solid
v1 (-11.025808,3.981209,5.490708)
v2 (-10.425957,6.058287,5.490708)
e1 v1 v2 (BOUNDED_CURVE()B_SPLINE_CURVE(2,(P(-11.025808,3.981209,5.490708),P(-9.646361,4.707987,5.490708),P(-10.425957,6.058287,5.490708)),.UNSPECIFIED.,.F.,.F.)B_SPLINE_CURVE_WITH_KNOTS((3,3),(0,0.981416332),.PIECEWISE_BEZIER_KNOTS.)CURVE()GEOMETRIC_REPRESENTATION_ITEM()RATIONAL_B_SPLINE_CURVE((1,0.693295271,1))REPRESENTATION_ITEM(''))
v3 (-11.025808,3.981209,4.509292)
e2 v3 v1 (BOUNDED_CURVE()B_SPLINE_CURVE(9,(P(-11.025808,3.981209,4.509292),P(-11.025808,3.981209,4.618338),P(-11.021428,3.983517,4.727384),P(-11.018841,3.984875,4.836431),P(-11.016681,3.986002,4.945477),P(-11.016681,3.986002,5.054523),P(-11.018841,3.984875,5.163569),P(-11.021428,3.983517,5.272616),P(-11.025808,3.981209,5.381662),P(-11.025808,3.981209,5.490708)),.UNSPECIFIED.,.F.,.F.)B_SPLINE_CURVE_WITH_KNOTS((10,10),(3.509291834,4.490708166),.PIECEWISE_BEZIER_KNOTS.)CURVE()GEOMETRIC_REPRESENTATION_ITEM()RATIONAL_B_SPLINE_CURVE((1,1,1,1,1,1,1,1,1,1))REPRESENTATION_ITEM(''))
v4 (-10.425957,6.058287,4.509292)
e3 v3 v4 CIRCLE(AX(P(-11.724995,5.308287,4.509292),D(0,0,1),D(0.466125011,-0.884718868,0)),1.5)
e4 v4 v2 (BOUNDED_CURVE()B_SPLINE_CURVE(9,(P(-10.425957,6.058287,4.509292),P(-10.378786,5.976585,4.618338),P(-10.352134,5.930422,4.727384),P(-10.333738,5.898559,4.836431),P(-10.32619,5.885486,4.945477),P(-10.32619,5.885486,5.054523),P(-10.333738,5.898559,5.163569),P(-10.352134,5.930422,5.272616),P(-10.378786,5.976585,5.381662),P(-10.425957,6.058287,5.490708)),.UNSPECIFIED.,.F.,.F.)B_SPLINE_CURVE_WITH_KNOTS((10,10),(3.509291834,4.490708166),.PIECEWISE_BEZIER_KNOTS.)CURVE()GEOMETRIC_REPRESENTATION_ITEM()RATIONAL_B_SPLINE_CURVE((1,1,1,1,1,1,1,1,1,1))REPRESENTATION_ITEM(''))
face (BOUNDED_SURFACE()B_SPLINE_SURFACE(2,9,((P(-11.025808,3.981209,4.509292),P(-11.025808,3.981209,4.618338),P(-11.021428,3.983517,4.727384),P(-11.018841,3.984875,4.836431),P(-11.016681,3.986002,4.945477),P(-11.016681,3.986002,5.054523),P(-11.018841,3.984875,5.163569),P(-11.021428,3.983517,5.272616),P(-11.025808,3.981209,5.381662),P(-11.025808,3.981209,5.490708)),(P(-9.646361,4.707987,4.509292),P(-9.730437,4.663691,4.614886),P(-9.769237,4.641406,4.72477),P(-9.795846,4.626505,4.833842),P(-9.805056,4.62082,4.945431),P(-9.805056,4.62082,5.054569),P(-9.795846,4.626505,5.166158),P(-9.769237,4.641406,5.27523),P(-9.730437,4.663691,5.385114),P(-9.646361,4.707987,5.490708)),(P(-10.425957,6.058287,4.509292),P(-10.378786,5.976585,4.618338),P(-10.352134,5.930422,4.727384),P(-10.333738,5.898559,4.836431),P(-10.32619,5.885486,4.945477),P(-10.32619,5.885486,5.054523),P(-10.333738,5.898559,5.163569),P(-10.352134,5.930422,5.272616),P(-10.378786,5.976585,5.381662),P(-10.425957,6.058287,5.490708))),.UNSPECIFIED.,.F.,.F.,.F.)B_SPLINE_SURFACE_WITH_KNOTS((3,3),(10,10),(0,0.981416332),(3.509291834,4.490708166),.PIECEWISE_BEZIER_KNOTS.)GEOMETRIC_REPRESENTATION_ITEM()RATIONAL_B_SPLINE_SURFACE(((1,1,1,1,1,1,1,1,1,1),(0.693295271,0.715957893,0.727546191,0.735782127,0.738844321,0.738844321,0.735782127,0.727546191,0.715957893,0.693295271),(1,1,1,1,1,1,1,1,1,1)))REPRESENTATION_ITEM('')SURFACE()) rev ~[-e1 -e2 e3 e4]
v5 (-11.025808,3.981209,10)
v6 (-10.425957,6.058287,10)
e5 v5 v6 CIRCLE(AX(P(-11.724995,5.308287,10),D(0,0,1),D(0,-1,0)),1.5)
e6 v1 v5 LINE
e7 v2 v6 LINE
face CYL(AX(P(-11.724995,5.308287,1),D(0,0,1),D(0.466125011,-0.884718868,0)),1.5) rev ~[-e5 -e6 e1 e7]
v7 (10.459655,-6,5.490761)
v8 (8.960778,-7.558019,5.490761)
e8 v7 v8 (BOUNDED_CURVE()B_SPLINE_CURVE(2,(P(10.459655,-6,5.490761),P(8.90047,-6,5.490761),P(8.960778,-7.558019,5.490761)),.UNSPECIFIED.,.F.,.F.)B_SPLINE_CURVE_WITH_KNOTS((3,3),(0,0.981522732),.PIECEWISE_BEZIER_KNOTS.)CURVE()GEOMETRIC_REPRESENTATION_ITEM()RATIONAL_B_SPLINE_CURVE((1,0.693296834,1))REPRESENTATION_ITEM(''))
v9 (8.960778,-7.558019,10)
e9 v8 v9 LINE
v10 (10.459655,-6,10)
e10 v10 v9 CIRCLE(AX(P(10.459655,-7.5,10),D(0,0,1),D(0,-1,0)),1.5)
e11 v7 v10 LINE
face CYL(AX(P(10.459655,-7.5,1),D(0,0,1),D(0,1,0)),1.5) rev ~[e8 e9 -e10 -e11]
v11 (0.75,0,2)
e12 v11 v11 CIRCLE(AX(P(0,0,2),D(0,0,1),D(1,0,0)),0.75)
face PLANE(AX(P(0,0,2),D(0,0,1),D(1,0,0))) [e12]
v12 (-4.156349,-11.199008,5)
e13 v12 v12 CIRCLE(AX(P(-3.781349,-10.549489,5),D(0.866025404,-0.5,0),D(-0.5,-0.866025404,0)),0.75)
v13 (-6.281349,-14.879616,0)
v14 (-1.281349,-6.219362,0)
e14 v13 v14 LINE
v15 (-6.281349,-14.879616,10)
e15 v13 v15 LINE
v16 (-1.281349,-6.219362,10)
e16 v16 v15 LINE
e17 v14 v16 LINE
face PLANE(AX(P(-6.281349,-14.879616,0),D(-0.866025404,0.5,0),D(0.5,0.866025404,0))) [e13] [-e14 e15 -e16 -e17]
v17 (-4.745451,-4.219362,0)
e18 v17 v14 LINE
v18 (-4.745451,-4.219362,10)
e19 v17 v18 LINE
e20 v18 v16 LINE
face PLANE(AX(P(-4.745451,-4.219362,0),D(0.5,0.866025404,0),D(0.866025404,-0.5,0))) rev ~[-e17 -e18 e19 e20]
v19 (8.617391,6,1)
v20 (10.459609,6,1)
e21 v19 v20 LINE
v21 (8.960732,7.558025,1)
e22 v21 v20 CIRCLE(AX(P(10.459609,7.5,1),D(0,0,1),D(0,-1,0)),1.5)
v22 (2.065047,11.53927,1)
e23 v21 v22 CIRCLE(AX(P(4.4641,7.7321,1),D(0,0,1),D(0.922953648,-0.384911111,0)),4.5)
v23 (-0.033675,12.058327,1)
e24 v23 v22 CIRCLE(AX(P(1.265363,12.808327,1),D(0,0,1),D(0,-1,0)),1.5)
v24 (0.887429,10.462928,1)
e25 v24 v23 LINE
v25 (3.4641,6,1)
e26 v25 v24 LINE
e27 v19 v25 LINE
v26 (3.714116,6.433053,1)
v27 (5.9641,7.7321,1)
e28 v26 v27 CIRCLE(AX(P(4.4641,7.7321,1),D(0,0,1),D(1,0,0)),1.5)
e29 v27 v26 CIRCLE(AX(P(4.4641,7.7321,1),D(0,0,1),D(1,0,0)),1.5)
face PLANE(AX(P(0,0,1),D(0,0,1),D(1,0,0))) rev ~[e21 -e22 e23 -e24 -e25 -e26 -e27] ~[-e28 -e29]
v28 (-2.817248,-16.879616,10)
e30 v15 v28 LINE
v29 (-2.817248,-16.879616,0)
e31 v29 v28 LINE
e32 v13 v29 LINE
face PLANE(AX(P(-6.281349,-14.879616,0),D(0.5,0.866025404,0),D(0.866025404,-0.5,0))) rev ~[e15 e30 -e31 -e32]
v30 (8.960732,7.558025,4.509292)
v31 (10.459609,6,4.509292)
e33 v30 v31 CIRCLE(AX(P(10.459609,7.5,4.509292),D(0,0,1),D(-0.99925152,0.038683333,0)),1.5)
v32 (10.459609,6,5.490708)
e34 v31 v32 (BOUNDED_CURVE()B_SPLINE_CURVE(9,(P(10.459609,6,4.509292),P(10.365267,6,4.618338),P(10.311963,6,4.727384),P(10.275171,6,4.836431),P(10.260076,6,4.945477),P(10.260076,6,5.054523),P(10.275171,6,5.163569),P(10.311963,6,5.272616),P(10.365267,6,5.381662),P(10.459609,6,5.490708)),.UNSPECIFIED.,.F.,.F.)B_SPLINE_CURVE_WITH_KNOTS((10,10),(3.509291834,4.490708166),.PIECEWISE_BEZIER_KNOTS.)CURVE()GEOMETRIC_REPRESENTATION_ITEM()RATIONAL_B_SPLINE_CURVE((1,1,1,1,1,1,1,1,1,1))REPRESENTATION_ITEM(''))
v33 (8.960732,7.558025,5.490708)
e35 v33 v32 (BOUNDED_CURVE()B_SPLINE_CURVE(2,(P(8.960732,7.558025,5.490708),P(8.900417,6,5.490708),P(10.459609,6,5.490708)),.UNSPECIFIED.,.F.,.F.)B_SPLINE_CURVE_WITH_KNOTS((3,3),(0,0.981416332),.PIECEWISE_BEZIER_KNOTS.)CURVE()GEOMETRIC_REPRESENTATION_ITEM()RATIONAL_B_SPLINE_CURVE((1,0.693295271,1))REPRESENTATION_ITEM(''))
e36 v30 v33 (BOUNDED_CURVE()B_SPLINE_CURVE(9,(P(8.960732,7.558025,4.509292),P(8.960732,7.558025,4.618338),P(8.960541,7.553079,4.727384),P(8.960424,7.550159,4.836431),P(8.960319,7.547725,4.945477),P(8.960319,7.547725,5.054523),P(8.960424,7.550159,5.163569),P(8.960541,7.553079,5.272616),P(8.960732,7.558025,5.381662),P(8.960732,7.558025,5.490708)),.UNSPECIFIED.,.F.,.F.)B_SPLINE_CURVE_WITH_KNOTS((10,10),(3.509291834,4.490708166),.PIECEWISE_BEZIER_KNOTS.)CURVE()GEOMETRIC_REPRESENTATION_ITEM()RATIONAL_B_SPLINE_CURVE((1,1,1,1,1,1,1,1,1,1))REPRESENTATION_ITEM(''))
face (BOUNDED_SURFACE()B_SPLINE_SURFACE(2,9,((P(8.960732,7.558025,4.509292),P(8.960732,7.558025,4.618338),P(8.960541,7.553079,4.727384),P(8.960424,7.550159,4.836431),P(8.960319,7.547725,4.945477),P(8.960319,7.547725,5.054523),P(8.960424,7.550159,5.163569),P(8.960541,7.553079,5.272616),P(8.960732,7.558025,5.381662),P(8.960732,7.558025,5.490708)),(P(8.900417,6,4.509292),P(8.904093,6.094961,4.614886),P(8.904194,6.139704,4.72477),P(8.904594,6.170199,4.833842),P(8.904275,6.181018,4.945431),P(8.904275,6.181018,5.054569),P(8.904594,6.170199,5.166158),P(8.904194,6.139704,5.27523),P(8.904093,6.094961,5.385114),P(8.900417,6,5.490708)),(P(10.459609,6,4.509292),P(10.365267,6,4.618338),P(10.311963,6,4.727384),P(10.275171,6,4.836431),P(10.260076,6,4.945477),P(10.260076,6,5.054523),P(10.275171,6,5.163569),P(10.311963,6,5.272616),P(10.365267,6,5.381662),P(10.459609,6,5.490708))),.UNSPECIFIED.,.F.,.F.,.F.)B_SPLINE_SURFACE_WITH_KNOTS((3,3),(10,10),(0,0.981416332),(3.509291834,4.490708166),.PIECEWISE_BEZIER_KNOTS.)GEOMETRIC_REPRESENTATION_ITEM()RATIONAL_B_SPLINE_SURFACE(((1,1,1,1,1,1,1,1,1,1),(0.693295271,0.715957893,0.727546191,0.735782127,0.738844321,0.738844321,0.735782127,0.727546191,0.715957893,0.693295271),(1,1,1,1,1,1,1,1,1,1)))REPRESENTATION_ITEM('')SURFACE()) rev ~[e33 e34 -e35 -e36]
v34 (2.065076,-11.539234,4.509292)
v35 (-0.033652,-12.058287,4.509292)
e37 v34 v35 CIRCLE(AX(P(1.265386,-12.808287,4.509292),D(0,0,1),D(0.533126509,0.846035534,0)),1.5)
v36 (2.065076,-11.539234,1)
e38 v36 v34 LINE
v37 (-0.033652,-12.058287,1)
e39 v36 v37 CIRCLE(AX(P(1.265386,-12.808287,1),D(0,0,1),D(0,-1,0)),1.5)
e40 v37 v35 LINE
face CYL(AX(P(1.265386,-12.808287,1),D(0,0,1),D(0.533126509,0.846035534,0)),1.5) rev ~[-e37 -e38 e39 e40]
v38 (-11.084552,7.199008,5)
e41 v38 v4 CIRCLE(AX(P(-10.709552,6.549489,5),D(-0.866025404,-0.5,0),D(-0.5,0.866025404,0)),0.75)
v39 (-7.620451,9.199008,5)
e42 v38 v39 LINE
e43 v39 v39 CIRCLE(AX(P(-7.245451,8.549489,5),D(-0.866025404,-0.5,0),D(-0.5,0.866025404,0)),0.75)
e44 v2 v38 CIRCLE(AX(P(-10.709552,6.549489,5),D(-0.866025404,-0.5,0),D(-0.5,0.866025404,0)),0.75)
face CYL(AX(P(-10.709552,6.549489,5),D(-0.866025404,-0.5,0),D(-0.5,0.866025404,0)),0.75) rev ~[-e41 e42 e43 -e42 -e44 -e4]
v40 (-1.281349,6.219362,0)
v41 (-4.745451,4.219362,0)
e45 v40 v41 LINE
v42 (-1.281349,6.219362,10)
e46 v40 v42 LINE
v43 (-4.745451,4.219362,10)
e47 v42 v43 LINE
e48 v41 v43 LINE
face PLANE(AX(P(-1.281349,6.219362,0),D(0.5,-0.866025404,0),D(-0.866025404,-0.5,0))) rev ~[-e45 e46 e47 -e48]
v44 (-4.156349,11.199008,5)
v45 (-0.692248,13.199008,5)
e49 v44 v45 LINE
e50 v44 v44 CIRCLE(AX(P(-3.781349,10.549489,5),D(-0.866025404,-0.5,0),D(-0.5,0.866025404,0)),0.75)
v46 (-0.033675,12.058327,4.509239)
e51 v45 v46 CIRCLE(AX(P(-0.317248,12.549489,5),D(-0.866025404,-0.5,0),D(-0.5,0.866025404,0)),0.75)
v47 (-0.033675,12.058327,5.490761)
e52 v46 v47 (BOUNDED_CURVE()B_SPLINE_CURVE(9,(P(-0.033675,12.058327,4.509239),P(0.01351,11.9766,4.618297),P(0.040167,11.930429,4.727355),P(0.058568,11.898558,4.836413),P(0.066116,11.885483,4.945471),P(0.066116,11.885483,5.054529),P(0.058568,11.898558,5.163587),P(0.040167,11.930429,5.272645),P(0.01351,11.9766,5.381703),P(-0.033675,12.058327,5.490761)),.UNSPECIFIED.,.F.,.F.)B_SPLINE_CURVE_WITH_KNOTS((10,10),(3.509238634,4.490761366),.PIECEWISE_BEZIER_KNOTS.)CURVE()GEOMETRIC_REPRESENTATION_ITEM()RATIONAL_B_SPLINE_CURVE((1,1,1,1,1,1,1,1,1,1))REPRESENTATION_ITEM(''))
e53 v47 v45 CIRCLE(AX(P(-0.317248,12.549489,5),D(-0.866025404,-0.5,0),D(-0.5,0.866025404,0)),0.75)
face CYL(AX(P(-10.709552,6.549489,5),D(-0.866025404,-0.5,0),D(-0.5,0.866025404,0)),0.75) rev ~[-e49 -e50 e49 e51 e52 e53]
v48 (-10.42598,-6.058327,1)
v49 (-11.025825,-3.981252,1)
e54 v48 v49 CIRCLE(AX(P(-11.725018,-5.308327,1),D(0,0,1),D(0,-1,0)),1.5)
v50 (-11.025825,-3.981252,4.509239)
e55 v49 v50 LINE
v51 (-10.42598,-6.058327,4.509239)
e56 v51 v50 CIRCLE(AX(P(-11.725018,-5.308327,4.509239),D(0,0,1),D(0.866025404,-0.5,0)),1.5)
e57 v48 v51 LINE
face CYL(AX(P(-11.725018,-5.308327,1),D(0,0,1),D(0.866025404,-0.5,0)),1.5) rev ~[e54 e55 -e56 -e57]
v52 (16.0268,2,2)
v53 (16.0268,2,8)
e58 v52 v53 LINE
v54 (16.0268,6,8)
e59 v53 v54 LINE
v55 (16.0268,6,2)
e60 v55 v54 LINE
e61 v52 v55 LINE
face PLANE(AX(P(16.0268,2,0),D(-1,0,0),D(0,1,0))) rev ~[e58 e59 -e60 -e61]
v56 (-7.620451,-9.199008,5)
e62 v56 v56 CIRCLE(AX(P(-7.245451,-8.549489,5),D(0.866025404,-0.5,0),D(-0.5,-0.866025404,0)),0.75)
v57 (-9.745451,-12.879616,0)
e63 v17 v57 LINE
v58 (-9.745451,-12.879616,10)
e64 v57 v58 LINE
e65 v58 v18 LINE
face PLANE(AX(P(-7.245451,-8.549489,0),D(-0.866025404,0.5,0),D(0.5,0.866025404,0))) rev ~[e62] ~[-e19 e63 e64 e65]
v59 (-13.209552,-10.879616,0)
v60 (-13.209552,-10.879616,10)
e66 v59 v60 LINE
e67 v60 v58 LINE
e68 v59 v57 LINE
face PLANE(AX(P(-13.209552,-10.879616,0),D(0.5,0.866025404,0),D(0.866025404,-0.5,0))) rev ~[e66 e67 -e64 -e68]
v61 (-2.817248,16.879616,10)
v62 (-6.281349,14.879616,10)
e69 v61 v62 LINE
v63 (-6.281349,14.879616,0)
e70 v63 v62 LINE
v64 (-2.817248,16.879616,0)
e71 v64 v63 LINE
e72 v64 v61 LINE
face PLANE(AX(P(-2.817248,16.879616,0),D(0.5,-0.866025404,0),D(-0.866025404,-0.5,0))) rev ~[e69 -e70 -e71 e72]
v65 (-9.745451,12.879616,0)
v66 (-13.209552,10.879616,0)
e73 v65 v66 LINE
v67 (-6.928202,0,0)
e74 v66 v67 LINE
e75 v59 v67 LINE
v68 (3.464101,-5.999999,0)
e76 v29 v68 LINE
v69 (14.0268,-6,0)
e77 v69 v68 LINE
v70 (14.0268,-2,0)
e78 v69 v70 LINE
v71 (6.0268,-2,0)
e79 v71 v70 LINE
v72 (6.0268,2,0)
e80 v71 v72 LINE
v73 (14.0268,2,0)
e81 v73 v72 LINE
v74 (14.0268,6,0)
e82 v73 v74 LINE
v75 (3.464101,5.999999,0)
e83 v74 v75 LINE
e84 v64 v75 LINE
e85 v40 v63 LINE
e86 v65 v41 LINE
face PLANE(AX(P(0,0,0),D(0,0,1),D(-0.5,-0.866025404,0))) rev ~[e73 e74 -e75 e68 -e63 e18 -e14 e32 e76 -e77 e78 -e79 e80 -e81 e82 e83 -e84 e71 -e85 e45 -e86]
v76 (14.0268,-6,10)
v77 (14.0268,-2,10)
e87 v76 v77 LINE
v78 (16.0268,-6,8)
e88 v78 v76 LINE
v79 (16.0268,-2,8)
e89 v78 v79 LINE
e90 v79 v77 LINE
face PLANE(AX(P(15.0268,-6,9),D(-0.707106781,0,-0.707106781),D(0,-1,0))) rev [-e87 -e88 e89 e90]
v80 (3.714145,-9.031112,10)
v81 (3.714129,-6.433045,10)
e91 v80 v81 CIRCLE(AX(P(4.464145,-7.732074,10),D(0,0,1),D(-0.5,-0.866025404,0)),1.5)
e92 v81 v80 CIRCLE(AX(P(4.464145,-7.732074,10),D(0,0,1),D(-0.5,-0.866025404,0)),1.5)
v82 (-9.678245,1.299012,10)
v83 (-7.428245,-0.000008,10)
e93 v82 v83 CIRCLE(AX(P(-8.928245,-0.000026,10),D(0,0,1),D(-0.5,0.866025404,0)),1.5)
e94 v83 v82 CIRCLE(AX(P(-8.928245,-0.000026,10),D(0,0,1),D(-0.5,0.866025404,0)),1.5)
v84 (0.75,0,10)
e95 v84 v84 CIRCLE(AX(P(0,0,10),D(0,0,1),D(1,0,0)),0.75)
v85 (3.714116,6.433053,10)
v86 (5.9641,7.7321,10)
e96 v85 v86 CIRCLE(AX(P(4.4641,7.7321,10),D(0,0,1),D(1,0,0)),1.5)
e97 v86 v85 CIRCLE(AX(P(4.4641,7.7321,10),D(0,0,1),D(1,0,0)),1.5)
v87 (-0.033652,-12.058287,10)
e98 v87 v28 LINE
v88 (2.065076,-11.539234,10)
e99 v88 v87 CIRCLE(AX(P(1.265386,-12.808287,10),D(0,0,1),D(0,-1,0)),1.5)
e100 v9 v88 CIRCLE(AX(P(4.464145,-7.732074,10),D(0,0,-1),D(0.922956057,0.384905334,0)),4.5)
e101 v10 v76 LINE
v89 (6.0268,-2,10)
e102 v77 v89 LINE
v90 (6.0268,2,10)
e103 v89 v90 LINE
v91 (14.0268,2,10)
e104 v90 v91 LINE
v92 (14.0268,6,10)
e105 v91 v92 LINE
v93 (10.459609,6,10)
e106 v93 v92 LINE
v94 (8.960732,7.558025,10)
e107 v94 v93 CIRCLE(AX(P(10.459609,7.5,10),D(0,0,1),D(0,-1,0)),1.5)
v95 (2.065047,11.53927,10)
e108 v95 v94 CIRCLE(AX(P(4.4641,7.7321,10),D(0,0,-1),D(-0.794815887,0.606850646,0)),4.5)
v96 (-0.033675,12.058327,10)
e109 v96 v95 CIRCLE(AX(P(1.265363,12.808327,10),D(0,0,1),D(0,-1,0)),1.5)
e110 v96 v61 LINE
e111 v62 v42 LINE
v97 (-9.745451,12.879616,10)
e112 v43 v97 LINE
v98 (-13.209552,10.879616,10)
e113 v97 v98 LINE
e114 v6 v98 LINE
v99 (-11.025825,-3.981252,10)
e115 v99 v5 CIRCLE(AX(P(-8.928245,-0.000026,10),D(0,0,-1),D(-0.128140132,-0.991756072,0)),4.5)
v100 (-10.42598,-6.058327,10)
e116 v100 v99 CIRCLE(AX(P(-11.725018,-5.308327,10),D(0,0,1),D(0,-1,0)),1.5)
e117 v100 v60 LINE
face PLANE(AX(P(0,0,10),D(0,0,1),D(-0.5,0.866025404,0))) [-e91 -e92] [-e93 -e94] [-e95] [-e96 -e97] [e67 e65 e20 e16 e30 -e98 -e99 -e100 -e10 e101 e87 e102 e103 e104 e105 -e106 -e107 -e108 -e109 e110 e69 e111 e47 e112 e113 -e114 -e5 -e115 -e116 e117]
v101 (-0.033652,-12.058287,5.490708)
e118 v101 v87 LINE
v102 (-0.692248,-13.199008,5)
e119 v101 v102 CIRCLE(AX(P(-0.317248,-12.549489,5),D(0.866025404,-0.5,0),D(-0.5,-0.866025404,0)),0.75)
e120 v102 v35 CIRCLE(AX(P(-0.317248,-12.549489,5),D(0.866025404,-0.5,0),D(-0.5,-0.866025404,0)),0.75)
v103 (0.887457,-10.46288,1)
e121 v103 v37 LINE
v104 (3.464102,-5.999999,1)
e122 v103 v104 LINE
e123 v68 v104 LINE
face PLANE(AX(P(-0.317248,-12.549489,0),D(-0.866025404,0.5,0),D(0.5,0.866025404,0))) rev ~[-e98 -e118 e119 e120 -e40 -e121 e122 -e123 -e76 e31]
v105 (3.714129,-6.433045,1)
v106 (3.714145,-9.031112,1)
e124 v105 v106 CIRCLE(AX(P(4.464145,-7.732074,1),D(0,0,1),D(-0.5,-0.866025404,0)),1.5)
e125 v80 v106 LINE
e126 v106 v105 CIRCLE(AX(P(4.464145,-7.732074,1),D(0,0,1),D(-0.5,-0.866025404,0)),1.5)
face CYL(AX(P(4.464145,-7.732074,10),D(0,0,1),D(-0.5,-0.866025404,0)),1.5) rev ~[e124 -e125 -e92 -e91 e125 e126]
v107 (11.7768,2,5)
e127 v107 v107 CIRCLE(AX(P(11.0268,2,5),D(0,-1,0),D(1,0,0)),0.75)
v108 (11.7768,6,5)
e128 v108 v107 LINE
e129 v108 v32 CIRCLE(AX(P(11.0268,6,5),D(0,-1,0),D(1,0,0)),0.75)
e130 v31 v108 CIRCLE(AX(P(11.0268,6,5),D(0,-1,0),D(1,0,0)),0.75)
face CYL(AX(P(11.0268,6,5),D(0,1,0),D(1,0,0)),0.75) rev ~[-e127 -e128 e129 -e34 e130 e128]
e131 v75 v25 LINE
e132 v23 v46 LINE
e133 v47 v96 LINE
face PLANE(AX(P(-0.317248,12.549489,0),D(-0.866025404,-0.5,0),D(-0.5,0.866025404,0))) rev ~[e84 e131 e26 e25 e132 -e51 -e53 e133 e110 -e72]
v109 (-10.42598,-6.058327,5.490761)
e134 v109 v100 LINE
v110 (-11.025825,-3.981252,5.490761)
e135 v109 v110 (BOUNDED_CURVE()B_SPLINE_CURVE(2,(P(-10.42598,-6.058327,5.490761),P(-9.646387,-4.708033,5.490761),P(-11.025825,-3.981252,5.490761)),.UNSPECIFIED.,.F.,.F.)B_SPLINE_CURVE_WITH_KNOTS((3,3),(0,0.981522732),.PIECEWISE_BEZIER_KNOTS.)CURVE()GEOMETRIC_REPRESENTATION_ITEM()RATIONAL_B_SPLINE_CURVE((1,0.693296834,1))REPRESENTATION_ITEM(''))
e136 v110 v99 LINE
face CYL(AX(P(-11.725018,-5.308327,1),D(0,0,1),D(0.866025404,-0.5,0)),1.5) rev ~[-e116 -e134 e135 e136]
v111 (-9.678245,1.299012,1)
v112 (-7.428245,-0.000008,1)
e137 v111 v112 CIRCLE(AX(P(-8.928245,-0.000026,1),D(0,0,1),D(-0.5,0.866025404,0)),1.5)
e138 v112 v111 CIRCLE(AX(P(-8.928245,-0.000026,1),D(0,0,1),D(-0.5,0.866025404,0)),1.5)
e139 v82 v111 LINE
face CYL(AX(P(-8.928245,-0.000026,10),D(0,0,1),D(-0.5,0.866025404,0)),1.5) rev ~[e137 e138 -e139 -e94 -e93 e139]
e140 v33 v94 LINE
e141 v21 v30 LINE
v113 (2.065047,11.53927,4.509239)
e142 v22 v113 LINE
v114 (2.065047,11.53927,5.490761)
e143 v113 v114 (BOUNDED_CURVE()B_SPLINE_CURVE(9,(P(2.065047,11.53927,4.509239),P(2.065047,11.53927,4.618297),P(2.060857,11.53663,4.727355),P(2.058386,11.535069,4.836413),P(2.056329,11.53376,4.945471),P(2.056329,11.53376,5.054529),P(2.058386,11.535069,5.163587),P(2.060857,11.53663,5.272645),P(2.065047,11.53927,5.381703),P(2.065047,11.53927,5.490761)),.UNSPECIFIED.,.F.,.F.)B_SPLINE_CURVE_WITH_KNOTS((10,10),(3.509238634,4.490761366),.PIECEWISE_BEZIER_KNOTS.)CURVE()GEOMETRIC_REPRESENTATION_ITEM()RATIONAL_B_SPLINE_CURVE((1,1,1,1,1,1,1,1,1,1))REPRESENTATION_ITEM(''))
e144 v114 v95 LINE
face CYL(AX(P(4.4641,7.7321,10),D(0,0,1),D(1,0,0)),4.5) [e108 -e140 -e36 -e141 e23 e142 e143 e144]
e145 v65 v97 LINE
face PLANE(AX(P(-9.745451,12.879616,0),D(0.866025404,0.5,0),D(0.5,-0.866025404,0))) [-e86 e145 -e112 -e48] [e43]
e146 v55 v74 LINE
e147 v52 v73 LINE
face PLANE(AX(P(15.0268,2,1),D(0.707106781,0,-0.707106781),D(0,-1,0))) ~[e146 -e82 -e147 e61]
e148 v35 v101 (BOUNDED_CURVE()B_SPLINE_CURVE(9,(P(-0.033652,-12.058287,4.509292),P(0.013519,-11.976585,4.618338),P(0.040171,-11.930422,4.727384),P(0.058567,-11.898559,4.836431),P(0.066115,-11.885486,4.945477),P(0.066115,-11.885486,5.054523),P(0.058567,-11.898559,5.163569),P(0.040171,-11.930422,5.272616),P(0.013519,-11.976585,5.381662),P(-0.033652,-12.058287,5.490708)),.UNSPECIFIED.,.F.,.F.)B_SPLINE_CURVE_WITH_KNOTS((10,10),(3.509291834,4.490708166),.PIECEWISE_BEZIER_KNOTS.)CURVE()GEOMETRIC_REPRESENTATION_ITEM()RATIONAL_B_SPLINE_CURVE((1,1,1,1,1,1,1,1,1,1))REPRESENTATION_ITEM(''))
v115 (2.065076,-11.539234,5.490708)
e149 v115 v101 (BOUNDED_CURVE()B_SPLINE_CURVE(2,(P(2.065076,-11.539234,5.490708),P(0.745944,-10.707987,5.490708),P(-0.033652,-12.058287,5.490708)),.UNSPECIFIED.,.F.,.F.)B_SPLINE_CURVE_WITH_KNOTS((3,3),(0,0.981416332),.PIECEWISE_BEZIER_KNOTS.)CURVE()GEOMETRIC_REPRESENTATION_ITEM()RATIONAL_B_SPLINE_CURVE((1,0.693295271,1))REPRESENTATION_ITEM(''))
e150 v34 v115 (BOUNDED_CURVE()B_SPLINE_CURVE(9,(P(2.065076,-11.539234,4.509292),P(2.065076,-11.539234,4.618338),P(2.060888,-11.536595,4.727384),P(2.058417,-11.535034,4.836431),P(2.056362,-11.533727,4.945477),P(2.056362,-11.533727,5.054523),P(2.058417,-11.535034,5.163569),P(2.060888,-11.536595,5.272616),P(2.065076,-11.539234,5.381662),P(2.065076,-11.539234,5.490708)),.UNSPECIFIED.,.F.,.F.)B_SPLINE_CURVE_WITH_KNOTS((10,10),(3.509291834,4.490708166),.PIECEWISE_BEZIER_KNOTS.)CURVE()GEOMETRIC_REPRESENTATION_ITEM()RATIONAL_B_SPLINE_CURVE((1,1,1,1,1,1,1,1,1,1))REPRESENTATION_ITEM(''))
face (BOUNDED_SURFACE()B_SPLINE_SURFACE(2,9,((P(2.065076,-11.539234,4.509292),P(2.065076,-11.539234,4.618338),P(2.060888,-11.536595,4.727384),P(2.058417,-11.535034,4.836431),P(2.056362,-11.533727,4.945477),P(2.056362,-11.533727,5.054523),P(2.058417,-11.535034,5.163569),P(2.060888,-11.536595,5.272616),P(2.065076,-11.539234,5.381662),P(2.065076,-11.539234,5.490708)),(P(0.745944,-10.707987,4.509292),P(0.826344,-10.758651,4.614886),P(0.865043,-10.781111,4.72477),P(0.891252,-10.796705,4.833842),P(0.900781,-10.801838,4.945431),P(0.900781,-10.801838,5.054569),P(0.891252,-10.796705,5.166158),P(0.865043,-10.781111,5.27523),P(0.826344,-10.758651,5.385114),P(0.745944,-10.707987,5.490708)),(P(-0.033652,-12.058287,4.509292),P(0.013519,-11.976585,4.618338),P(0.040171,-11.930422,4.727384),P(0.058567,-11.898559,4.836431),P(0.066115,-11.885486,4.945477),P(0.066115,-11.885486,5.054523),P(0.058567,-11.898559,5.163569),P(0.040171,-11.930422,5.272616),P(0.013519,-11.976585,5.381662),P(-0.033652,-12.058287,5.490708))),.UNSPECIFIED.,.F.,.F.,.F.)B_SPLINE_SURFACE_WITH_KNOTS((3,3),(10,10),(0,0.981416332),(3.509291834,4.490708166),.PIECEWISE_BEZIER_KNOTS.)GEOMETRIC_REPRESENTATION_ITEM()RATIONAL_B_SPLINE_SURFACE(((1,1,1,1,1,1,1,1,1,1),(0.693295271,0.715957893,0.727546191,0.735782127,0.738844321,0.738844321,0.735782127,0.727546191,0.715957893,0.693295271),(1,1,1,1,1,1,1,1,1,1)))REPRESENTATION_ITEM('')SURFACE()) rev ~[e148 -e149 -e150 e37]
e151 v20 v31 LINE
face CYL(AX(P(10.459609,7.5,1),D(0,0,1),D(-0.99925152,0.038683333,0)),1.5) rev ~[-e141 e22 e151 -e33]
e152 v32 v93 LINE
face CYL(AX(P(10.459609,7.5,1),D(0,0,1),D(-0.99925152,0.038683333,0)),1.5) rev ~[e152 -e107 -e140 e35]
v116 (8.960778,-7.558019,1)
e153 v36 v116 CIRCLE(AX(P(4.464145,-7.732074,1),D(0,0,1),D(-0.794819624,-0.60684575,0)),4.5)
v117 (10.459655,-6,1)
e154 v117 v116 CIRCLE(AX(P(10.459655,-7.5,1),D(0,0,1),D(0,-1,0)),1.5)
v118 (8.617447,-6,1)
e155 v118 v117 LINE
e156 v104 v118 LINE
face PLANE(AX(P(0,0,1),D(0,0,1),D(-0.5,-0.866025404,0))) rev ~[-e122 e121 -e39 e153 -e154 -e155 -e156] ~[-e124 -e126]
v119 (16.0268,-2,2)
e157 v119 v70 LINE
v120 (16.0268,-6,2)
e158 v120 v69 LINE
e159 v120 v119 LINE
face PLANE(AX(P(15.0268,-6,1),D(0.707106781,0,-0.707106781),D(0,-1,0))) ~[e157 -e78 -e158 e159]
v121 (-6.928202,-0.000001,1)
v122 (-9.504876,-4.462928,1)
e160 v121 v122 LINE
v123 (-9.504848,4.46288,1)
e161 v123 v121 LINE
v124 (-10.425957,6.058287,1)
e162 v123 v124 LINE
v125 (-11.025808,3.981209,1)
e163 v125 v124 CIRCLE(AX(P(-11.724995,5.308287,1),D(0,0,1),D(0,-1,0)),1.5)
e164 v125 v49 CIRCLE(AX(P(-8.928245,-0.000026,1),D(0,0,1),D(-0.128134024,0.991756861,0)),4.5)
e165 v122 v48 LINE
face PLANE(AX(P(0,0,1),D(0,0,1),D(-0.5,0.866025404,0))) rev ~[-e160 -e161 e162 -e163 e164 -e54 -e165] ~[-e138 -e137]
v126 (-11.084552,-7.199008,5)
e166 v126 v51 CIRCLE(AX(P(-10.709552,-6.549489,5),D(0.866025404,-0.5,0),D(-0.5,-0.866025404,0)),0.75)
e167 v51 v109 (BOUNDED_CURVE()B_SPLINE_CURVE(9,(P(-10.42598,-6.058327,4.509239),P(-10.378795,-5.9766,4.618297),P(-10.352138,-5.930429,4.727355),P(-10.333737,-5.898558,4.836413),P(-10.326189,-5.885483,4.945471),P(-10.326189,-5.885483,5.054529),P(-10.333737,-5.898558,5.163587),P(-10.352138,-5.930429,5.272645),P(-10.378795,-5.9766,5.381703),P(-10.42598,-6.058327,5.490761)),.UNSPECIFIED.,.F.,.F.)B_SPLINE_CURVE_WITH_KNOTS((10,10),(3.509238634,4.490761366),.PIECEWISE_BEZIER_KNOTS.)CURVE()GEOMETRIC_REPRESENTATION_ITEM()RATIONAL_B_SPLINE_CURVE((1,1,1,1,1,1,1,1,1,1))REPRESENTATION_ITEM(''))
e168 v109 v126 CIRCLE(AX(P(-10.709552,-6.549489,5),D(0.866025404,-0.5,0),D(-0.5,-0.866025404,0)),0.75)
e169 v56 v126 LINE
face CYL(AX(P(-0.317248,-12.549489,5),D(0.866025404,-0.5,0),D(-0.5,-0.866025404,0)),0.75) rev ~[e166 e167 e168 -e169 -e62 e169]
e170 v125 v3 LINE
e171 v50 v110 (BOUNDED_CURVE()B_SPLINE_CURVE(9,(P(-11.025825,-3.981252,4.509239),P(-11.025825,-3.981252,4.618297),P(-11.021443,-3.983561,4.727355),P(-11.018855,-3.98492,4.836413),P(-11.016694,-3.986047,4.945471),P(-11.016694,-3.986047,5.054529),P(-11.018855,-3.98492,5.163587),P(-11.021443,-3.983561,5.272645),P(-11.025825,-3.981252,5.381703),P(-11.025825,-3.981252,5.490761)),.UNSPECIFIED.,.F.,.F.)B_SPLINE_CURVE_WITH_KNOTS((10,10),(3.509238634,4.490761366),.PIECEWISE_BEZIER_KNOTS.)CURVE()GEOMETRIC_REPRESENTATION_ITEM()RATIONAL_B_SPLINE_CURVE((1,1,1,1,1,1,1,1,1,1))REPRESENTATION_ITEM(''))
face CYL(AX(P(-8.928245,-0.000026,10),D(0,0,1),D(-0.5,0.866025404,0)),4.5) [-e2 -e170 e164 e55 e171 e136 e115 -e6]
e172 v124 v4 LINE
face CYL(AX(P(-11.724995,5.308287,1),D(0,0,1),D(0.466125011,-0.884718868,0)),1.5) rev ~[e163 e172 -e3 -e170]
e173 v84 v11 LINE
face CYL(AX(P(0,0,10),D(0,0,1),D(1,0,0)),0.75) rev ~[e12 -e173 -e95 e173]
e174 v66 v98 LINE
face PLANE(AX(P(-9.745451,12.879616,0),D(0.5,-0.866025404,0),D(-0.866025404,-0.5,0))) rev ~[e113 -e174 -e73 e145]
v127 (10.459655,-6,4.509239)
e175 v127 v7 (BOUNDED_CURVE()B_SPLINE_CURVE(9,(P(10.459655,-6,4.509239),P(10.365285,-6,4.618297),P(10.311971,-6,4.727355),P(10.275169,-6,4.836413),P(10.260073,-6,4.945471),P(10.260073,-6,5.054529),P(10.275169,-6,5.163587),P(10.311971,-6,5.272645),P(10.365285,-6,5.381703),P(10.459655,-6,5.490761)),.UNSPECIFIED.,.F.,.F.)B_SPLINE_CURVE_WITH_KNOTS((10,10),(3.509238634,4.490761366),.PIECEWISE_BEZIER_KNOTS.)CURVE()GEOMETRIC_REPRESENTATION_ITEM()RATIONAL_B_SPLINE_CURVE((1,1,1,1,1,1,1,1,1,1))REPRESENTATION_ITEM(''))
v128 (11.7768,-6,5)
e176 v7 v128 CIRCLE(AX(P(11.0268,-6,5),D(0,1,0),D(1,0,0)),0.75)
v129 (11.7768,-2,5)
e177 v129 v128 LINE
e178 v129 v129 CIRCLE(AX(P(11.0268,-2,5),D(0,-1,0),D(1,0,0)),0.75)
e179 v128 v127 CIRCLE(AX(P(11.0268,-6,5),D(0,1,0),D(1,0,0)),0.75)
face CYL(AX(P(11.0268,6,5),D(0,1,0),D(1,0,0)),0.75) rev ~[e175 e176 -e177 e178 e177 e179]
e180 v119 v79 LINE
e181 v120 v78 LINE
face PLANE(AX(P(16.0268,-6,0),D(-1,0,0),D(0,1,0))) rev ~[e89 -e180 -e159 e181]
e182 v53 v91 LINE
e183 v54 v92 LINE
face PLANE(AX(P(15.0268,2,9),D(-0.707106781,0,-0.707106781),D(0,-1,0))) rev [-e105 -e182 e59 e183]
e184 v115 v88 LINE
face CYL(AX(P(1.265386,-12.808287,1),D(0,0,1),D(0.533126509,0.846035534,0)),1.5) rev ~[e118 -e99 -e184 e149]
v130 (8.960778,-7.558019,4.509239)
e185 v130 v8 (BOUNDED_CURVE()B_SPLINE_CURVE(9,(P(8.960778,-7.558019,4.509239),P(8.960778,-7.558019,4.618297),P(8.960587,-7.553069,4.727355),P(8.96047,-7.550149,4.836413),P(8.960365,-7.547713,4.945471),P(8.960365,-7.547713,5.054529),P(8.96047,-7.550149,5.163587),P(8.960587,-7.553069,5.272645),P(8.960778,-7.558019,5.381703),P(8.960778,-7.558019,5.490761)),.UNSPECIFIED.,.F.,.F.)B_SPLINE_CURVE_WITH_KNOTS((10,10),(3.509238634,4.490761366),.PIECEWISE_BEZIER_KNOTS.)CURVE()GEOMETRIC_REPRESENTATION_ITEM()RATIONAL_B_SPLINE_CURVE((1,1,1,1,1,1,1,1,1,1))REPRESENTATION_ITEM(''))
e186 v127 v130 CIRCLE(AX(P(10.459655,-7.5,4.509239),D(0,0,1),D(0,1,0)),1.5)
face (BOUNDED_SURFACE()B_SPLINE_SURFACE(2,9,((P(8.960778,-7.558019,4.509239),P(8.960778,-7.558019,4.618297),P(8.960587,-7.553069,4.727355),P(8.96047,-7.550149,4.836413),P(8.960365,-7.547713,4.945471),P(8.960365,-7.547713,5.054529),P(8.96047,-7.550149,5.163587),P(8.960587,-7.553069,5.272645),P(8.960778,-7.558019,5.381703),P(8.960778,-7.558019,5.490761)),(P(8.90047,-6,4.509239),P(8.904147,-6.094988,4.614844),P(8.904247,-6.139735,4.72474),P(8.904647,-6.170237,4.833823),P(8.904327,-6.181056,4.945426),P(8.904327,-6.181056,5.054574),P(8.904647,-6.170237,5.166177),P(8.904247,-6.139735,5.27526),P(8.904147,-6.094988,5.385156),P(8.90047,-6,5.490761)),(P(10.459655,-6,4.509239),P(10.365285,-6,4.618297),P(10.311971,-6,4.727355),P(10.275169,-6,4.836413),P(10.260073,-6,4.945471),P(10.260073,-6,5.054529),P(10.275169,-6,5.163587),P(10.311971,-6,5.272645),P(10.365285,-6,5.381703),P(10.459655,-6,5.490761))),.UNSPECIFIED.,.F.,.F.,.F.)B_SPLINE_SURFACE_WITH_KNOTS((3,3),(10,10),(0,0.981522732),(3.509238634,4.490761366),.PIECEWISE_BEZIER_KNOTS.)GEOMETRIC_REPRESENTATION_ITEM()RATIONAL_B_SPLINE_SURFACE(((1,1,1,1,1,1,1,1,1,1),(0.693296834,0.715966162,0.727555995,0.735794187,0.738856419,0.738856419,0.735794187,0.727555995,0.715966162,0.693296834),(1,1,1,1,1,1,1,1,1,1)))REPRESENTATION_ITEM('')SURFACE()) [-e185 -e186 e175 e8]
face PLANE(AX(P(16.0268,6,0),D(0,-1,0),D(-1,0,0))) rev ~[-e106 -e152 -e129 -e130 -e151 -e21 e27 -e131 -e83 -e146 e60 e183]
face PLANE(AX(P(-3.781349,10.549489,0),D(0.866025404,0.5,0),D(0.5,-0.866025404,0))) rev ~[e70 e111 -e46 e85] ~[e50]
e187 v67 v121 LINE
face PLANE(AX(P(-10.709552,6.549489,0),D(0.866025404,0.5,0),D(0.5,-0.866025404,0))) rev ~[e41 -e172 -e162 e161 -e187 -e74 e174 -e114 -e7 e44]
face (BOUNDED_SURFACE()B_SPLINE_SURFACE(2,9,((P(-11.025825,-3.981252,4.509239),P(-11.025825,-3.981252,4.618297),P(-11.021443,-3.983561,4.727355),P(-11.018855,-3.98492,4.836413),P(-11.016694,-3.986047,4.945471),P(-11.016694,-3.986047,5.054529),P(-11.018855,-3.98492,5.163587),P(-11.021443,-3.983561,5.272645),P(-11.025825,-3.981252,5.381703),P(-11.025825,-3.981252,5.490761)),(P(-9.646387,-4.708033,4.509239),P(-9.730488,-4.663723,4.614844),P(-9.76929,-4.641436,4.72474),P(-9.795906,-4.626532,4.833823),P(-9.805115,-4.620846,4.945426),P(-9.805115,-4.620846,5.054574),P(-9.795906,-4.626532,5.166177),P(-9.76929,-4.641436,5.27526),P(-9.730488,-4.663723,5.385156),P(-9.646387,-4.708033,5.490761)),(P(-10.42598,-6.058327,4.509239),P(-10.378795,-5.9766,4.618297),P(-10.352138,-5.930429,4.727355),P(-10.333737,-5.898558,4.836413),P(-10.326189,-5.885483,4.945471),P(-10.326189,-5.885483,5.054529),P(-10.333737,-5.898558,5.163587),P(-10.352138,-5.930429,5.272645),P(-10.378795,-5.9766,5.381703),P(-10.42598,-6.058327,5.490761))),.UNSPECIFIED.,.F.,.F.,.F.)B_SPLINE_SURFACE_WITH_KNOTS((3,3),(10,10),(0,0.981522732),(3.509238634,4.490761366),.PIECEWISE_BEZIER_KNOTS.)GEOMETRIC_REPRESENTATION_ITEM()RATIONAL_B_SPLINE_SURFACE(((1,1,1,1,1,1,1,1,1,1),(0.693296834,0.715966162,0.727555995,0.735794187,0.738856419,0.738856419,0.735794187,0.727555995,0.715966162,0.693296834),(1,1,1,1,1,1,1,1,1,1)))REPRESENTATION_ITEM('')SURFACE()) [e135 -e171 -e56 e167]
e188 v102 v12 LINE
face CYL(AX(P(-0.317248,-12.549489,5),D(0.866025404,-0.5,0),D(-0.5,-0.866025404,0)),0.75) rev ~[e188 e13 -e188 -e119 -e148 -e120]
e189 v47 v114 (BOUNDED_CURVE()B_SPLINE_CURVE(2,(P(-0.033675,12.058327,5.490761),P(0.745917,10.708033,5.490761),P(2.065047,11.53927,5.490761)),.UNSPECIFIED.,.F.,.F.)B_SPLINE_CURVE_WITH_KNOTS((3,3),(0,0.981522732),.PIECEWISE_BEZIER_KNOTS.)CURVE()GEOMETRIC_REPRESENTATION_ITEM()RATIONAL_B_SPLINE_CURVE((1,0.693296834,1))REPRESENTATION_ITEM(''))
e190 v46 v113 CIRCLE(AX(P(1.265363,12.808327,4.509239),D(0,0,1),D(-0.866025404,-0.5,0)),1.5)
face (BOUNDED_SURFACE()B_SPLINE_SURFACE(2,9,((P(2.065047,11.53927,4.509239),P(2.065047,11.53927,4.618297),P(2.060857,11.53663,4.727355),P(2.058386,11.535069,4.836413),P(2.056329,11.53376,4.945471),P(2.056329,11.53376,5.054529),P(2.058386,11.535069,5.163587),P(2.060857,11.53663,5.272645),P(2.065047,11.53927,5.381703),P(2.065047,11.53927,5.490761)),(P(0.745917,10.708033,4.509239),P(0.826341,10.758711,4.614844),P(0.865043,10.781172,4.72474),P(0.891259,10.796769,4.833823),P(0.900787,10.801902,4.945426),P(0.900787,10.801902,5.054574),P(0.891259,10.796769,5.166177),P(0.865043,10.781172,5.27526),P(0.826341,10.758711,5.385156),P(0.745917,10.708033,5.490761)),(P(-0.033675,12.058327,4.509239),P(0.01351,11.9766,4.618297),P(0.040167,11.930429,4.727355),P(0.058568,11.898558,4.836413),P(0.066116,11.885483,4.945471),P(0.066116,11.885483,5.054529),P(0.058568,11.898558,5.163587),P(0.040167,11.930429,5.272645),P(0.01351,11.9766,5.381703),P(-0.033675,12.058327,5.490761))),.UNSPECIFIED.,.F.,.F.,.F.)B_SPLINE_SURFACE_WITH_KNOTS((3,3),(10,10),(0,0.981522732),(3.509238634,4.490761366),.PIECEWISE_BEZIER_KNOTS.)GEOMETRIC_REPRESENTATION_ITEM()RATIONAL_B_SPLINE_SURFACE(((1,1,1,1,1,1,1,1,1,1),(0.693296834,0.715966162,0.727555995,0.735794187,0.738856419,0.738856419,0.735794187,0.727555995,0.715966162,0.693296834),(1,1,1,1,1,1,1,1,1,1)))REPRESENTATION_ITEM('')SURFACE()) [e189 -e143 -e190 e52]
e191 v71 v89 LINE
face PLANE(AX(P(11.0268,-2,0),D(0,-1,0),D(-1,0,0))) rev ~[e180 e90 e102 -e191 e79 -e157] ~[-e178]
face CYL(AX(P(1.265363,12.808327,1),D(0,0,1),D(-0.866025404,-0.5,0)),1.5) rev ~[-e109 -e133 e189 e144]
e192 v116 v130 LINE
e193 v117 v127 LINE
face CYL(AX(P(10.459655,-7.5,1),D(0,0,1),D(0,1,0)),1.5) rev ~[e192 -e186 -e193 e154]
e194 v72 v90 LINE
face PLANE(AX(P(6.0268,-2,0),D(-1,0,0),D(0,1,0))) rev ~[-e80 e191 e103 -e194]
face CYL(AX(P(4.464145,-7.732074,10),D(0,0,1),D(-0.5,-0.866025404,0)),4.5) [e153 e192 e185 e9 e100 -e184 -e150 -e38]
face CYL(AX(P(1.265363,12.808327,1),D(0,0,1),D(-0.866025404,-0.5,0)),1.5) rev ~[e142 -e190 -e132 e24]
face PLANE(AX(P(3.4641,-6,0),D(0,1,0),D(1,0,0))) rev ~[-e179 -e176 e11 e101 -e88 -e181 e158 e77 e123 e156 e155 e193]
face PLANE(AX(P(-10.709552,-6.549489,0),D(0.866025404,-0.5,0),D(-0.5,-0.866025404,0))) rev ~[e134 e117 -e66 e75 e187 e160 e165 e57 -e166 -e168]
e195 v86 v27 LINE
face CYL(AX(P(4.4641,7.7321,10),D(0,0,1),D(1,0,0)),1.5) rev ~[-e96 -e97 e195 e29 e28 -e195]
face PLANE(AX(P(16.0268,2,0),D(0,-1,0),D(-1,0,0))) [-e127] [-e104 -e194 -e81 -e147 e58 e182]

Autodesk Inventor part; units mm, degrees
ref_plane "YZ Plane" through (0, 0, 0) normal (1, 0, 0) x (0, 1, 0)
ref_plane "XZ Plane" through (0, 0, 0) normal (0, 1, 0) x (-1, 0, 0)
ref_plane "XY Plane" through (0, 0, 0) normal (0, 0, 1) x (1, 0, 0)
sketch "Sketch1" plane through (0, 0, 0) normal (0, 0, 1) x (1, 0, 0)
  line L0 (3.4641, -6) -> (11.0268, -6)
  line L1 (11.0268, -2) -> (6.0268, -2)
  line L2 (6.0268, -2) -> (6.0268, 2)
  line L3 (6.0268, 2) -> (11.0268, 2)
  line L4 (11.0268, 6) -> (3.4641, 6)
  line L5 (16.0268, 2) -> (16.0268, 6)
  line L6 (16.0268, -6) -> (16.0268, -2)
  line L7 (16.0268, 6) -> (3.4641, 6)
  line L8 (3.4641, 6) -> (0, 0)
  line L9 (0, 0) -> (3.4641, -6)
  line L10 (3.4641, -6) -> (16.0268, -6)
  line L11 (16.0268, 2) -> (6.0268, 2)
  line L12 (6.0268, 2) -> (6.0268, -2)
  line L13 (6.0268, -2) -> (16.0268, -2)
  line L14 (16.0268, 6) -> (16.0268, 2)
  line L15 (16.0268, -2) -> (16.0268, -6)
  point P0 (0, 0)
  dimension "d8" = 10
  dimension "d9" = 10
extrude "Extrusion1" add sketch "Sketch1" along normal blind 10
chamfer "Chamfer2" distance 2 angle 45 4 edges at (16.0268, 4, 10) (16.0268, -4, 10) (16.0268, -4, 0) (16.0268, 4, 0)
sketch "Sketch3" plane through (3.4641, 6, 10) normal (0, 1, 0) x (1, 0, 0)
  line L0 (10.5627, 10) -> (0, 10) projected
  line L1 (12.5627, 8) -> (12.5627, 2) projected
  circle A0 centre (7.5627, 5) radius 0.75
  point P0 (-3.4641, 10)
  dimension "d13" = 1.5
  dimension "d14" = 5
  dimension "d15" = 5
extrude "Extrusion2" cut sketch "Sketch3" against normal blind 22.7
pattern_circular "Circular Pattern1" count 3 over 360 about axis through (0, 0, 0) along (0, 0, 1) of "Extrusion1", "Extrusion2"
sketch "Sketch4" plane through (0, 0, 10) normal (0, 0, 1) x (1, 0, 0)
  circle A0 centre (0, 0) radius 0.75
  dimension "d21" = 1.5
extrude "Extrusion3" cut sketch "Sketch4" against normal blind 8
sketch "Sketch5" plane through (0, 0, 10) normal (0, 0, 1) x (1, 0, 0)
  circle A0 centre (0, 0) radius 0.75 projected
  line L0 (-2.8173, -16.8796) -> (3.4641, -6) projected
  circle A1 centre (4.4641, 7.7321) radius 1.5
  line L1 (0, 0) -> (3.4641, 6)
  line L2 (3.4641, 6) -> (4.4641, 7.7321)
  circle A2 centre (4.4641, 7.7321) radius 4.5
  dimension "d24" = 3
  dimension "d25" = 2
  dimension "d26" = 9
extrude "Extrusion4" add sketch "Sketch5" against normal blind 9 contours A2
pattern_circular "Circular Pattern2" count 3 over 360 about axis through (0, 0, 10) along (0, 0, -1) of "Extrusion4"
fillet "Fillet1" radius 1.5 2 edges at (0.8874, 10.4629, 5.5) (8.6174, 6, 5.5)
pattern_circular "Circular Pattern3" count 3 over 360 about axis through (0, 0, 10) along (0, 0, -1) of "Fillet1"
equation "\"d27\" = d26"
properties part number "Plunger2"
